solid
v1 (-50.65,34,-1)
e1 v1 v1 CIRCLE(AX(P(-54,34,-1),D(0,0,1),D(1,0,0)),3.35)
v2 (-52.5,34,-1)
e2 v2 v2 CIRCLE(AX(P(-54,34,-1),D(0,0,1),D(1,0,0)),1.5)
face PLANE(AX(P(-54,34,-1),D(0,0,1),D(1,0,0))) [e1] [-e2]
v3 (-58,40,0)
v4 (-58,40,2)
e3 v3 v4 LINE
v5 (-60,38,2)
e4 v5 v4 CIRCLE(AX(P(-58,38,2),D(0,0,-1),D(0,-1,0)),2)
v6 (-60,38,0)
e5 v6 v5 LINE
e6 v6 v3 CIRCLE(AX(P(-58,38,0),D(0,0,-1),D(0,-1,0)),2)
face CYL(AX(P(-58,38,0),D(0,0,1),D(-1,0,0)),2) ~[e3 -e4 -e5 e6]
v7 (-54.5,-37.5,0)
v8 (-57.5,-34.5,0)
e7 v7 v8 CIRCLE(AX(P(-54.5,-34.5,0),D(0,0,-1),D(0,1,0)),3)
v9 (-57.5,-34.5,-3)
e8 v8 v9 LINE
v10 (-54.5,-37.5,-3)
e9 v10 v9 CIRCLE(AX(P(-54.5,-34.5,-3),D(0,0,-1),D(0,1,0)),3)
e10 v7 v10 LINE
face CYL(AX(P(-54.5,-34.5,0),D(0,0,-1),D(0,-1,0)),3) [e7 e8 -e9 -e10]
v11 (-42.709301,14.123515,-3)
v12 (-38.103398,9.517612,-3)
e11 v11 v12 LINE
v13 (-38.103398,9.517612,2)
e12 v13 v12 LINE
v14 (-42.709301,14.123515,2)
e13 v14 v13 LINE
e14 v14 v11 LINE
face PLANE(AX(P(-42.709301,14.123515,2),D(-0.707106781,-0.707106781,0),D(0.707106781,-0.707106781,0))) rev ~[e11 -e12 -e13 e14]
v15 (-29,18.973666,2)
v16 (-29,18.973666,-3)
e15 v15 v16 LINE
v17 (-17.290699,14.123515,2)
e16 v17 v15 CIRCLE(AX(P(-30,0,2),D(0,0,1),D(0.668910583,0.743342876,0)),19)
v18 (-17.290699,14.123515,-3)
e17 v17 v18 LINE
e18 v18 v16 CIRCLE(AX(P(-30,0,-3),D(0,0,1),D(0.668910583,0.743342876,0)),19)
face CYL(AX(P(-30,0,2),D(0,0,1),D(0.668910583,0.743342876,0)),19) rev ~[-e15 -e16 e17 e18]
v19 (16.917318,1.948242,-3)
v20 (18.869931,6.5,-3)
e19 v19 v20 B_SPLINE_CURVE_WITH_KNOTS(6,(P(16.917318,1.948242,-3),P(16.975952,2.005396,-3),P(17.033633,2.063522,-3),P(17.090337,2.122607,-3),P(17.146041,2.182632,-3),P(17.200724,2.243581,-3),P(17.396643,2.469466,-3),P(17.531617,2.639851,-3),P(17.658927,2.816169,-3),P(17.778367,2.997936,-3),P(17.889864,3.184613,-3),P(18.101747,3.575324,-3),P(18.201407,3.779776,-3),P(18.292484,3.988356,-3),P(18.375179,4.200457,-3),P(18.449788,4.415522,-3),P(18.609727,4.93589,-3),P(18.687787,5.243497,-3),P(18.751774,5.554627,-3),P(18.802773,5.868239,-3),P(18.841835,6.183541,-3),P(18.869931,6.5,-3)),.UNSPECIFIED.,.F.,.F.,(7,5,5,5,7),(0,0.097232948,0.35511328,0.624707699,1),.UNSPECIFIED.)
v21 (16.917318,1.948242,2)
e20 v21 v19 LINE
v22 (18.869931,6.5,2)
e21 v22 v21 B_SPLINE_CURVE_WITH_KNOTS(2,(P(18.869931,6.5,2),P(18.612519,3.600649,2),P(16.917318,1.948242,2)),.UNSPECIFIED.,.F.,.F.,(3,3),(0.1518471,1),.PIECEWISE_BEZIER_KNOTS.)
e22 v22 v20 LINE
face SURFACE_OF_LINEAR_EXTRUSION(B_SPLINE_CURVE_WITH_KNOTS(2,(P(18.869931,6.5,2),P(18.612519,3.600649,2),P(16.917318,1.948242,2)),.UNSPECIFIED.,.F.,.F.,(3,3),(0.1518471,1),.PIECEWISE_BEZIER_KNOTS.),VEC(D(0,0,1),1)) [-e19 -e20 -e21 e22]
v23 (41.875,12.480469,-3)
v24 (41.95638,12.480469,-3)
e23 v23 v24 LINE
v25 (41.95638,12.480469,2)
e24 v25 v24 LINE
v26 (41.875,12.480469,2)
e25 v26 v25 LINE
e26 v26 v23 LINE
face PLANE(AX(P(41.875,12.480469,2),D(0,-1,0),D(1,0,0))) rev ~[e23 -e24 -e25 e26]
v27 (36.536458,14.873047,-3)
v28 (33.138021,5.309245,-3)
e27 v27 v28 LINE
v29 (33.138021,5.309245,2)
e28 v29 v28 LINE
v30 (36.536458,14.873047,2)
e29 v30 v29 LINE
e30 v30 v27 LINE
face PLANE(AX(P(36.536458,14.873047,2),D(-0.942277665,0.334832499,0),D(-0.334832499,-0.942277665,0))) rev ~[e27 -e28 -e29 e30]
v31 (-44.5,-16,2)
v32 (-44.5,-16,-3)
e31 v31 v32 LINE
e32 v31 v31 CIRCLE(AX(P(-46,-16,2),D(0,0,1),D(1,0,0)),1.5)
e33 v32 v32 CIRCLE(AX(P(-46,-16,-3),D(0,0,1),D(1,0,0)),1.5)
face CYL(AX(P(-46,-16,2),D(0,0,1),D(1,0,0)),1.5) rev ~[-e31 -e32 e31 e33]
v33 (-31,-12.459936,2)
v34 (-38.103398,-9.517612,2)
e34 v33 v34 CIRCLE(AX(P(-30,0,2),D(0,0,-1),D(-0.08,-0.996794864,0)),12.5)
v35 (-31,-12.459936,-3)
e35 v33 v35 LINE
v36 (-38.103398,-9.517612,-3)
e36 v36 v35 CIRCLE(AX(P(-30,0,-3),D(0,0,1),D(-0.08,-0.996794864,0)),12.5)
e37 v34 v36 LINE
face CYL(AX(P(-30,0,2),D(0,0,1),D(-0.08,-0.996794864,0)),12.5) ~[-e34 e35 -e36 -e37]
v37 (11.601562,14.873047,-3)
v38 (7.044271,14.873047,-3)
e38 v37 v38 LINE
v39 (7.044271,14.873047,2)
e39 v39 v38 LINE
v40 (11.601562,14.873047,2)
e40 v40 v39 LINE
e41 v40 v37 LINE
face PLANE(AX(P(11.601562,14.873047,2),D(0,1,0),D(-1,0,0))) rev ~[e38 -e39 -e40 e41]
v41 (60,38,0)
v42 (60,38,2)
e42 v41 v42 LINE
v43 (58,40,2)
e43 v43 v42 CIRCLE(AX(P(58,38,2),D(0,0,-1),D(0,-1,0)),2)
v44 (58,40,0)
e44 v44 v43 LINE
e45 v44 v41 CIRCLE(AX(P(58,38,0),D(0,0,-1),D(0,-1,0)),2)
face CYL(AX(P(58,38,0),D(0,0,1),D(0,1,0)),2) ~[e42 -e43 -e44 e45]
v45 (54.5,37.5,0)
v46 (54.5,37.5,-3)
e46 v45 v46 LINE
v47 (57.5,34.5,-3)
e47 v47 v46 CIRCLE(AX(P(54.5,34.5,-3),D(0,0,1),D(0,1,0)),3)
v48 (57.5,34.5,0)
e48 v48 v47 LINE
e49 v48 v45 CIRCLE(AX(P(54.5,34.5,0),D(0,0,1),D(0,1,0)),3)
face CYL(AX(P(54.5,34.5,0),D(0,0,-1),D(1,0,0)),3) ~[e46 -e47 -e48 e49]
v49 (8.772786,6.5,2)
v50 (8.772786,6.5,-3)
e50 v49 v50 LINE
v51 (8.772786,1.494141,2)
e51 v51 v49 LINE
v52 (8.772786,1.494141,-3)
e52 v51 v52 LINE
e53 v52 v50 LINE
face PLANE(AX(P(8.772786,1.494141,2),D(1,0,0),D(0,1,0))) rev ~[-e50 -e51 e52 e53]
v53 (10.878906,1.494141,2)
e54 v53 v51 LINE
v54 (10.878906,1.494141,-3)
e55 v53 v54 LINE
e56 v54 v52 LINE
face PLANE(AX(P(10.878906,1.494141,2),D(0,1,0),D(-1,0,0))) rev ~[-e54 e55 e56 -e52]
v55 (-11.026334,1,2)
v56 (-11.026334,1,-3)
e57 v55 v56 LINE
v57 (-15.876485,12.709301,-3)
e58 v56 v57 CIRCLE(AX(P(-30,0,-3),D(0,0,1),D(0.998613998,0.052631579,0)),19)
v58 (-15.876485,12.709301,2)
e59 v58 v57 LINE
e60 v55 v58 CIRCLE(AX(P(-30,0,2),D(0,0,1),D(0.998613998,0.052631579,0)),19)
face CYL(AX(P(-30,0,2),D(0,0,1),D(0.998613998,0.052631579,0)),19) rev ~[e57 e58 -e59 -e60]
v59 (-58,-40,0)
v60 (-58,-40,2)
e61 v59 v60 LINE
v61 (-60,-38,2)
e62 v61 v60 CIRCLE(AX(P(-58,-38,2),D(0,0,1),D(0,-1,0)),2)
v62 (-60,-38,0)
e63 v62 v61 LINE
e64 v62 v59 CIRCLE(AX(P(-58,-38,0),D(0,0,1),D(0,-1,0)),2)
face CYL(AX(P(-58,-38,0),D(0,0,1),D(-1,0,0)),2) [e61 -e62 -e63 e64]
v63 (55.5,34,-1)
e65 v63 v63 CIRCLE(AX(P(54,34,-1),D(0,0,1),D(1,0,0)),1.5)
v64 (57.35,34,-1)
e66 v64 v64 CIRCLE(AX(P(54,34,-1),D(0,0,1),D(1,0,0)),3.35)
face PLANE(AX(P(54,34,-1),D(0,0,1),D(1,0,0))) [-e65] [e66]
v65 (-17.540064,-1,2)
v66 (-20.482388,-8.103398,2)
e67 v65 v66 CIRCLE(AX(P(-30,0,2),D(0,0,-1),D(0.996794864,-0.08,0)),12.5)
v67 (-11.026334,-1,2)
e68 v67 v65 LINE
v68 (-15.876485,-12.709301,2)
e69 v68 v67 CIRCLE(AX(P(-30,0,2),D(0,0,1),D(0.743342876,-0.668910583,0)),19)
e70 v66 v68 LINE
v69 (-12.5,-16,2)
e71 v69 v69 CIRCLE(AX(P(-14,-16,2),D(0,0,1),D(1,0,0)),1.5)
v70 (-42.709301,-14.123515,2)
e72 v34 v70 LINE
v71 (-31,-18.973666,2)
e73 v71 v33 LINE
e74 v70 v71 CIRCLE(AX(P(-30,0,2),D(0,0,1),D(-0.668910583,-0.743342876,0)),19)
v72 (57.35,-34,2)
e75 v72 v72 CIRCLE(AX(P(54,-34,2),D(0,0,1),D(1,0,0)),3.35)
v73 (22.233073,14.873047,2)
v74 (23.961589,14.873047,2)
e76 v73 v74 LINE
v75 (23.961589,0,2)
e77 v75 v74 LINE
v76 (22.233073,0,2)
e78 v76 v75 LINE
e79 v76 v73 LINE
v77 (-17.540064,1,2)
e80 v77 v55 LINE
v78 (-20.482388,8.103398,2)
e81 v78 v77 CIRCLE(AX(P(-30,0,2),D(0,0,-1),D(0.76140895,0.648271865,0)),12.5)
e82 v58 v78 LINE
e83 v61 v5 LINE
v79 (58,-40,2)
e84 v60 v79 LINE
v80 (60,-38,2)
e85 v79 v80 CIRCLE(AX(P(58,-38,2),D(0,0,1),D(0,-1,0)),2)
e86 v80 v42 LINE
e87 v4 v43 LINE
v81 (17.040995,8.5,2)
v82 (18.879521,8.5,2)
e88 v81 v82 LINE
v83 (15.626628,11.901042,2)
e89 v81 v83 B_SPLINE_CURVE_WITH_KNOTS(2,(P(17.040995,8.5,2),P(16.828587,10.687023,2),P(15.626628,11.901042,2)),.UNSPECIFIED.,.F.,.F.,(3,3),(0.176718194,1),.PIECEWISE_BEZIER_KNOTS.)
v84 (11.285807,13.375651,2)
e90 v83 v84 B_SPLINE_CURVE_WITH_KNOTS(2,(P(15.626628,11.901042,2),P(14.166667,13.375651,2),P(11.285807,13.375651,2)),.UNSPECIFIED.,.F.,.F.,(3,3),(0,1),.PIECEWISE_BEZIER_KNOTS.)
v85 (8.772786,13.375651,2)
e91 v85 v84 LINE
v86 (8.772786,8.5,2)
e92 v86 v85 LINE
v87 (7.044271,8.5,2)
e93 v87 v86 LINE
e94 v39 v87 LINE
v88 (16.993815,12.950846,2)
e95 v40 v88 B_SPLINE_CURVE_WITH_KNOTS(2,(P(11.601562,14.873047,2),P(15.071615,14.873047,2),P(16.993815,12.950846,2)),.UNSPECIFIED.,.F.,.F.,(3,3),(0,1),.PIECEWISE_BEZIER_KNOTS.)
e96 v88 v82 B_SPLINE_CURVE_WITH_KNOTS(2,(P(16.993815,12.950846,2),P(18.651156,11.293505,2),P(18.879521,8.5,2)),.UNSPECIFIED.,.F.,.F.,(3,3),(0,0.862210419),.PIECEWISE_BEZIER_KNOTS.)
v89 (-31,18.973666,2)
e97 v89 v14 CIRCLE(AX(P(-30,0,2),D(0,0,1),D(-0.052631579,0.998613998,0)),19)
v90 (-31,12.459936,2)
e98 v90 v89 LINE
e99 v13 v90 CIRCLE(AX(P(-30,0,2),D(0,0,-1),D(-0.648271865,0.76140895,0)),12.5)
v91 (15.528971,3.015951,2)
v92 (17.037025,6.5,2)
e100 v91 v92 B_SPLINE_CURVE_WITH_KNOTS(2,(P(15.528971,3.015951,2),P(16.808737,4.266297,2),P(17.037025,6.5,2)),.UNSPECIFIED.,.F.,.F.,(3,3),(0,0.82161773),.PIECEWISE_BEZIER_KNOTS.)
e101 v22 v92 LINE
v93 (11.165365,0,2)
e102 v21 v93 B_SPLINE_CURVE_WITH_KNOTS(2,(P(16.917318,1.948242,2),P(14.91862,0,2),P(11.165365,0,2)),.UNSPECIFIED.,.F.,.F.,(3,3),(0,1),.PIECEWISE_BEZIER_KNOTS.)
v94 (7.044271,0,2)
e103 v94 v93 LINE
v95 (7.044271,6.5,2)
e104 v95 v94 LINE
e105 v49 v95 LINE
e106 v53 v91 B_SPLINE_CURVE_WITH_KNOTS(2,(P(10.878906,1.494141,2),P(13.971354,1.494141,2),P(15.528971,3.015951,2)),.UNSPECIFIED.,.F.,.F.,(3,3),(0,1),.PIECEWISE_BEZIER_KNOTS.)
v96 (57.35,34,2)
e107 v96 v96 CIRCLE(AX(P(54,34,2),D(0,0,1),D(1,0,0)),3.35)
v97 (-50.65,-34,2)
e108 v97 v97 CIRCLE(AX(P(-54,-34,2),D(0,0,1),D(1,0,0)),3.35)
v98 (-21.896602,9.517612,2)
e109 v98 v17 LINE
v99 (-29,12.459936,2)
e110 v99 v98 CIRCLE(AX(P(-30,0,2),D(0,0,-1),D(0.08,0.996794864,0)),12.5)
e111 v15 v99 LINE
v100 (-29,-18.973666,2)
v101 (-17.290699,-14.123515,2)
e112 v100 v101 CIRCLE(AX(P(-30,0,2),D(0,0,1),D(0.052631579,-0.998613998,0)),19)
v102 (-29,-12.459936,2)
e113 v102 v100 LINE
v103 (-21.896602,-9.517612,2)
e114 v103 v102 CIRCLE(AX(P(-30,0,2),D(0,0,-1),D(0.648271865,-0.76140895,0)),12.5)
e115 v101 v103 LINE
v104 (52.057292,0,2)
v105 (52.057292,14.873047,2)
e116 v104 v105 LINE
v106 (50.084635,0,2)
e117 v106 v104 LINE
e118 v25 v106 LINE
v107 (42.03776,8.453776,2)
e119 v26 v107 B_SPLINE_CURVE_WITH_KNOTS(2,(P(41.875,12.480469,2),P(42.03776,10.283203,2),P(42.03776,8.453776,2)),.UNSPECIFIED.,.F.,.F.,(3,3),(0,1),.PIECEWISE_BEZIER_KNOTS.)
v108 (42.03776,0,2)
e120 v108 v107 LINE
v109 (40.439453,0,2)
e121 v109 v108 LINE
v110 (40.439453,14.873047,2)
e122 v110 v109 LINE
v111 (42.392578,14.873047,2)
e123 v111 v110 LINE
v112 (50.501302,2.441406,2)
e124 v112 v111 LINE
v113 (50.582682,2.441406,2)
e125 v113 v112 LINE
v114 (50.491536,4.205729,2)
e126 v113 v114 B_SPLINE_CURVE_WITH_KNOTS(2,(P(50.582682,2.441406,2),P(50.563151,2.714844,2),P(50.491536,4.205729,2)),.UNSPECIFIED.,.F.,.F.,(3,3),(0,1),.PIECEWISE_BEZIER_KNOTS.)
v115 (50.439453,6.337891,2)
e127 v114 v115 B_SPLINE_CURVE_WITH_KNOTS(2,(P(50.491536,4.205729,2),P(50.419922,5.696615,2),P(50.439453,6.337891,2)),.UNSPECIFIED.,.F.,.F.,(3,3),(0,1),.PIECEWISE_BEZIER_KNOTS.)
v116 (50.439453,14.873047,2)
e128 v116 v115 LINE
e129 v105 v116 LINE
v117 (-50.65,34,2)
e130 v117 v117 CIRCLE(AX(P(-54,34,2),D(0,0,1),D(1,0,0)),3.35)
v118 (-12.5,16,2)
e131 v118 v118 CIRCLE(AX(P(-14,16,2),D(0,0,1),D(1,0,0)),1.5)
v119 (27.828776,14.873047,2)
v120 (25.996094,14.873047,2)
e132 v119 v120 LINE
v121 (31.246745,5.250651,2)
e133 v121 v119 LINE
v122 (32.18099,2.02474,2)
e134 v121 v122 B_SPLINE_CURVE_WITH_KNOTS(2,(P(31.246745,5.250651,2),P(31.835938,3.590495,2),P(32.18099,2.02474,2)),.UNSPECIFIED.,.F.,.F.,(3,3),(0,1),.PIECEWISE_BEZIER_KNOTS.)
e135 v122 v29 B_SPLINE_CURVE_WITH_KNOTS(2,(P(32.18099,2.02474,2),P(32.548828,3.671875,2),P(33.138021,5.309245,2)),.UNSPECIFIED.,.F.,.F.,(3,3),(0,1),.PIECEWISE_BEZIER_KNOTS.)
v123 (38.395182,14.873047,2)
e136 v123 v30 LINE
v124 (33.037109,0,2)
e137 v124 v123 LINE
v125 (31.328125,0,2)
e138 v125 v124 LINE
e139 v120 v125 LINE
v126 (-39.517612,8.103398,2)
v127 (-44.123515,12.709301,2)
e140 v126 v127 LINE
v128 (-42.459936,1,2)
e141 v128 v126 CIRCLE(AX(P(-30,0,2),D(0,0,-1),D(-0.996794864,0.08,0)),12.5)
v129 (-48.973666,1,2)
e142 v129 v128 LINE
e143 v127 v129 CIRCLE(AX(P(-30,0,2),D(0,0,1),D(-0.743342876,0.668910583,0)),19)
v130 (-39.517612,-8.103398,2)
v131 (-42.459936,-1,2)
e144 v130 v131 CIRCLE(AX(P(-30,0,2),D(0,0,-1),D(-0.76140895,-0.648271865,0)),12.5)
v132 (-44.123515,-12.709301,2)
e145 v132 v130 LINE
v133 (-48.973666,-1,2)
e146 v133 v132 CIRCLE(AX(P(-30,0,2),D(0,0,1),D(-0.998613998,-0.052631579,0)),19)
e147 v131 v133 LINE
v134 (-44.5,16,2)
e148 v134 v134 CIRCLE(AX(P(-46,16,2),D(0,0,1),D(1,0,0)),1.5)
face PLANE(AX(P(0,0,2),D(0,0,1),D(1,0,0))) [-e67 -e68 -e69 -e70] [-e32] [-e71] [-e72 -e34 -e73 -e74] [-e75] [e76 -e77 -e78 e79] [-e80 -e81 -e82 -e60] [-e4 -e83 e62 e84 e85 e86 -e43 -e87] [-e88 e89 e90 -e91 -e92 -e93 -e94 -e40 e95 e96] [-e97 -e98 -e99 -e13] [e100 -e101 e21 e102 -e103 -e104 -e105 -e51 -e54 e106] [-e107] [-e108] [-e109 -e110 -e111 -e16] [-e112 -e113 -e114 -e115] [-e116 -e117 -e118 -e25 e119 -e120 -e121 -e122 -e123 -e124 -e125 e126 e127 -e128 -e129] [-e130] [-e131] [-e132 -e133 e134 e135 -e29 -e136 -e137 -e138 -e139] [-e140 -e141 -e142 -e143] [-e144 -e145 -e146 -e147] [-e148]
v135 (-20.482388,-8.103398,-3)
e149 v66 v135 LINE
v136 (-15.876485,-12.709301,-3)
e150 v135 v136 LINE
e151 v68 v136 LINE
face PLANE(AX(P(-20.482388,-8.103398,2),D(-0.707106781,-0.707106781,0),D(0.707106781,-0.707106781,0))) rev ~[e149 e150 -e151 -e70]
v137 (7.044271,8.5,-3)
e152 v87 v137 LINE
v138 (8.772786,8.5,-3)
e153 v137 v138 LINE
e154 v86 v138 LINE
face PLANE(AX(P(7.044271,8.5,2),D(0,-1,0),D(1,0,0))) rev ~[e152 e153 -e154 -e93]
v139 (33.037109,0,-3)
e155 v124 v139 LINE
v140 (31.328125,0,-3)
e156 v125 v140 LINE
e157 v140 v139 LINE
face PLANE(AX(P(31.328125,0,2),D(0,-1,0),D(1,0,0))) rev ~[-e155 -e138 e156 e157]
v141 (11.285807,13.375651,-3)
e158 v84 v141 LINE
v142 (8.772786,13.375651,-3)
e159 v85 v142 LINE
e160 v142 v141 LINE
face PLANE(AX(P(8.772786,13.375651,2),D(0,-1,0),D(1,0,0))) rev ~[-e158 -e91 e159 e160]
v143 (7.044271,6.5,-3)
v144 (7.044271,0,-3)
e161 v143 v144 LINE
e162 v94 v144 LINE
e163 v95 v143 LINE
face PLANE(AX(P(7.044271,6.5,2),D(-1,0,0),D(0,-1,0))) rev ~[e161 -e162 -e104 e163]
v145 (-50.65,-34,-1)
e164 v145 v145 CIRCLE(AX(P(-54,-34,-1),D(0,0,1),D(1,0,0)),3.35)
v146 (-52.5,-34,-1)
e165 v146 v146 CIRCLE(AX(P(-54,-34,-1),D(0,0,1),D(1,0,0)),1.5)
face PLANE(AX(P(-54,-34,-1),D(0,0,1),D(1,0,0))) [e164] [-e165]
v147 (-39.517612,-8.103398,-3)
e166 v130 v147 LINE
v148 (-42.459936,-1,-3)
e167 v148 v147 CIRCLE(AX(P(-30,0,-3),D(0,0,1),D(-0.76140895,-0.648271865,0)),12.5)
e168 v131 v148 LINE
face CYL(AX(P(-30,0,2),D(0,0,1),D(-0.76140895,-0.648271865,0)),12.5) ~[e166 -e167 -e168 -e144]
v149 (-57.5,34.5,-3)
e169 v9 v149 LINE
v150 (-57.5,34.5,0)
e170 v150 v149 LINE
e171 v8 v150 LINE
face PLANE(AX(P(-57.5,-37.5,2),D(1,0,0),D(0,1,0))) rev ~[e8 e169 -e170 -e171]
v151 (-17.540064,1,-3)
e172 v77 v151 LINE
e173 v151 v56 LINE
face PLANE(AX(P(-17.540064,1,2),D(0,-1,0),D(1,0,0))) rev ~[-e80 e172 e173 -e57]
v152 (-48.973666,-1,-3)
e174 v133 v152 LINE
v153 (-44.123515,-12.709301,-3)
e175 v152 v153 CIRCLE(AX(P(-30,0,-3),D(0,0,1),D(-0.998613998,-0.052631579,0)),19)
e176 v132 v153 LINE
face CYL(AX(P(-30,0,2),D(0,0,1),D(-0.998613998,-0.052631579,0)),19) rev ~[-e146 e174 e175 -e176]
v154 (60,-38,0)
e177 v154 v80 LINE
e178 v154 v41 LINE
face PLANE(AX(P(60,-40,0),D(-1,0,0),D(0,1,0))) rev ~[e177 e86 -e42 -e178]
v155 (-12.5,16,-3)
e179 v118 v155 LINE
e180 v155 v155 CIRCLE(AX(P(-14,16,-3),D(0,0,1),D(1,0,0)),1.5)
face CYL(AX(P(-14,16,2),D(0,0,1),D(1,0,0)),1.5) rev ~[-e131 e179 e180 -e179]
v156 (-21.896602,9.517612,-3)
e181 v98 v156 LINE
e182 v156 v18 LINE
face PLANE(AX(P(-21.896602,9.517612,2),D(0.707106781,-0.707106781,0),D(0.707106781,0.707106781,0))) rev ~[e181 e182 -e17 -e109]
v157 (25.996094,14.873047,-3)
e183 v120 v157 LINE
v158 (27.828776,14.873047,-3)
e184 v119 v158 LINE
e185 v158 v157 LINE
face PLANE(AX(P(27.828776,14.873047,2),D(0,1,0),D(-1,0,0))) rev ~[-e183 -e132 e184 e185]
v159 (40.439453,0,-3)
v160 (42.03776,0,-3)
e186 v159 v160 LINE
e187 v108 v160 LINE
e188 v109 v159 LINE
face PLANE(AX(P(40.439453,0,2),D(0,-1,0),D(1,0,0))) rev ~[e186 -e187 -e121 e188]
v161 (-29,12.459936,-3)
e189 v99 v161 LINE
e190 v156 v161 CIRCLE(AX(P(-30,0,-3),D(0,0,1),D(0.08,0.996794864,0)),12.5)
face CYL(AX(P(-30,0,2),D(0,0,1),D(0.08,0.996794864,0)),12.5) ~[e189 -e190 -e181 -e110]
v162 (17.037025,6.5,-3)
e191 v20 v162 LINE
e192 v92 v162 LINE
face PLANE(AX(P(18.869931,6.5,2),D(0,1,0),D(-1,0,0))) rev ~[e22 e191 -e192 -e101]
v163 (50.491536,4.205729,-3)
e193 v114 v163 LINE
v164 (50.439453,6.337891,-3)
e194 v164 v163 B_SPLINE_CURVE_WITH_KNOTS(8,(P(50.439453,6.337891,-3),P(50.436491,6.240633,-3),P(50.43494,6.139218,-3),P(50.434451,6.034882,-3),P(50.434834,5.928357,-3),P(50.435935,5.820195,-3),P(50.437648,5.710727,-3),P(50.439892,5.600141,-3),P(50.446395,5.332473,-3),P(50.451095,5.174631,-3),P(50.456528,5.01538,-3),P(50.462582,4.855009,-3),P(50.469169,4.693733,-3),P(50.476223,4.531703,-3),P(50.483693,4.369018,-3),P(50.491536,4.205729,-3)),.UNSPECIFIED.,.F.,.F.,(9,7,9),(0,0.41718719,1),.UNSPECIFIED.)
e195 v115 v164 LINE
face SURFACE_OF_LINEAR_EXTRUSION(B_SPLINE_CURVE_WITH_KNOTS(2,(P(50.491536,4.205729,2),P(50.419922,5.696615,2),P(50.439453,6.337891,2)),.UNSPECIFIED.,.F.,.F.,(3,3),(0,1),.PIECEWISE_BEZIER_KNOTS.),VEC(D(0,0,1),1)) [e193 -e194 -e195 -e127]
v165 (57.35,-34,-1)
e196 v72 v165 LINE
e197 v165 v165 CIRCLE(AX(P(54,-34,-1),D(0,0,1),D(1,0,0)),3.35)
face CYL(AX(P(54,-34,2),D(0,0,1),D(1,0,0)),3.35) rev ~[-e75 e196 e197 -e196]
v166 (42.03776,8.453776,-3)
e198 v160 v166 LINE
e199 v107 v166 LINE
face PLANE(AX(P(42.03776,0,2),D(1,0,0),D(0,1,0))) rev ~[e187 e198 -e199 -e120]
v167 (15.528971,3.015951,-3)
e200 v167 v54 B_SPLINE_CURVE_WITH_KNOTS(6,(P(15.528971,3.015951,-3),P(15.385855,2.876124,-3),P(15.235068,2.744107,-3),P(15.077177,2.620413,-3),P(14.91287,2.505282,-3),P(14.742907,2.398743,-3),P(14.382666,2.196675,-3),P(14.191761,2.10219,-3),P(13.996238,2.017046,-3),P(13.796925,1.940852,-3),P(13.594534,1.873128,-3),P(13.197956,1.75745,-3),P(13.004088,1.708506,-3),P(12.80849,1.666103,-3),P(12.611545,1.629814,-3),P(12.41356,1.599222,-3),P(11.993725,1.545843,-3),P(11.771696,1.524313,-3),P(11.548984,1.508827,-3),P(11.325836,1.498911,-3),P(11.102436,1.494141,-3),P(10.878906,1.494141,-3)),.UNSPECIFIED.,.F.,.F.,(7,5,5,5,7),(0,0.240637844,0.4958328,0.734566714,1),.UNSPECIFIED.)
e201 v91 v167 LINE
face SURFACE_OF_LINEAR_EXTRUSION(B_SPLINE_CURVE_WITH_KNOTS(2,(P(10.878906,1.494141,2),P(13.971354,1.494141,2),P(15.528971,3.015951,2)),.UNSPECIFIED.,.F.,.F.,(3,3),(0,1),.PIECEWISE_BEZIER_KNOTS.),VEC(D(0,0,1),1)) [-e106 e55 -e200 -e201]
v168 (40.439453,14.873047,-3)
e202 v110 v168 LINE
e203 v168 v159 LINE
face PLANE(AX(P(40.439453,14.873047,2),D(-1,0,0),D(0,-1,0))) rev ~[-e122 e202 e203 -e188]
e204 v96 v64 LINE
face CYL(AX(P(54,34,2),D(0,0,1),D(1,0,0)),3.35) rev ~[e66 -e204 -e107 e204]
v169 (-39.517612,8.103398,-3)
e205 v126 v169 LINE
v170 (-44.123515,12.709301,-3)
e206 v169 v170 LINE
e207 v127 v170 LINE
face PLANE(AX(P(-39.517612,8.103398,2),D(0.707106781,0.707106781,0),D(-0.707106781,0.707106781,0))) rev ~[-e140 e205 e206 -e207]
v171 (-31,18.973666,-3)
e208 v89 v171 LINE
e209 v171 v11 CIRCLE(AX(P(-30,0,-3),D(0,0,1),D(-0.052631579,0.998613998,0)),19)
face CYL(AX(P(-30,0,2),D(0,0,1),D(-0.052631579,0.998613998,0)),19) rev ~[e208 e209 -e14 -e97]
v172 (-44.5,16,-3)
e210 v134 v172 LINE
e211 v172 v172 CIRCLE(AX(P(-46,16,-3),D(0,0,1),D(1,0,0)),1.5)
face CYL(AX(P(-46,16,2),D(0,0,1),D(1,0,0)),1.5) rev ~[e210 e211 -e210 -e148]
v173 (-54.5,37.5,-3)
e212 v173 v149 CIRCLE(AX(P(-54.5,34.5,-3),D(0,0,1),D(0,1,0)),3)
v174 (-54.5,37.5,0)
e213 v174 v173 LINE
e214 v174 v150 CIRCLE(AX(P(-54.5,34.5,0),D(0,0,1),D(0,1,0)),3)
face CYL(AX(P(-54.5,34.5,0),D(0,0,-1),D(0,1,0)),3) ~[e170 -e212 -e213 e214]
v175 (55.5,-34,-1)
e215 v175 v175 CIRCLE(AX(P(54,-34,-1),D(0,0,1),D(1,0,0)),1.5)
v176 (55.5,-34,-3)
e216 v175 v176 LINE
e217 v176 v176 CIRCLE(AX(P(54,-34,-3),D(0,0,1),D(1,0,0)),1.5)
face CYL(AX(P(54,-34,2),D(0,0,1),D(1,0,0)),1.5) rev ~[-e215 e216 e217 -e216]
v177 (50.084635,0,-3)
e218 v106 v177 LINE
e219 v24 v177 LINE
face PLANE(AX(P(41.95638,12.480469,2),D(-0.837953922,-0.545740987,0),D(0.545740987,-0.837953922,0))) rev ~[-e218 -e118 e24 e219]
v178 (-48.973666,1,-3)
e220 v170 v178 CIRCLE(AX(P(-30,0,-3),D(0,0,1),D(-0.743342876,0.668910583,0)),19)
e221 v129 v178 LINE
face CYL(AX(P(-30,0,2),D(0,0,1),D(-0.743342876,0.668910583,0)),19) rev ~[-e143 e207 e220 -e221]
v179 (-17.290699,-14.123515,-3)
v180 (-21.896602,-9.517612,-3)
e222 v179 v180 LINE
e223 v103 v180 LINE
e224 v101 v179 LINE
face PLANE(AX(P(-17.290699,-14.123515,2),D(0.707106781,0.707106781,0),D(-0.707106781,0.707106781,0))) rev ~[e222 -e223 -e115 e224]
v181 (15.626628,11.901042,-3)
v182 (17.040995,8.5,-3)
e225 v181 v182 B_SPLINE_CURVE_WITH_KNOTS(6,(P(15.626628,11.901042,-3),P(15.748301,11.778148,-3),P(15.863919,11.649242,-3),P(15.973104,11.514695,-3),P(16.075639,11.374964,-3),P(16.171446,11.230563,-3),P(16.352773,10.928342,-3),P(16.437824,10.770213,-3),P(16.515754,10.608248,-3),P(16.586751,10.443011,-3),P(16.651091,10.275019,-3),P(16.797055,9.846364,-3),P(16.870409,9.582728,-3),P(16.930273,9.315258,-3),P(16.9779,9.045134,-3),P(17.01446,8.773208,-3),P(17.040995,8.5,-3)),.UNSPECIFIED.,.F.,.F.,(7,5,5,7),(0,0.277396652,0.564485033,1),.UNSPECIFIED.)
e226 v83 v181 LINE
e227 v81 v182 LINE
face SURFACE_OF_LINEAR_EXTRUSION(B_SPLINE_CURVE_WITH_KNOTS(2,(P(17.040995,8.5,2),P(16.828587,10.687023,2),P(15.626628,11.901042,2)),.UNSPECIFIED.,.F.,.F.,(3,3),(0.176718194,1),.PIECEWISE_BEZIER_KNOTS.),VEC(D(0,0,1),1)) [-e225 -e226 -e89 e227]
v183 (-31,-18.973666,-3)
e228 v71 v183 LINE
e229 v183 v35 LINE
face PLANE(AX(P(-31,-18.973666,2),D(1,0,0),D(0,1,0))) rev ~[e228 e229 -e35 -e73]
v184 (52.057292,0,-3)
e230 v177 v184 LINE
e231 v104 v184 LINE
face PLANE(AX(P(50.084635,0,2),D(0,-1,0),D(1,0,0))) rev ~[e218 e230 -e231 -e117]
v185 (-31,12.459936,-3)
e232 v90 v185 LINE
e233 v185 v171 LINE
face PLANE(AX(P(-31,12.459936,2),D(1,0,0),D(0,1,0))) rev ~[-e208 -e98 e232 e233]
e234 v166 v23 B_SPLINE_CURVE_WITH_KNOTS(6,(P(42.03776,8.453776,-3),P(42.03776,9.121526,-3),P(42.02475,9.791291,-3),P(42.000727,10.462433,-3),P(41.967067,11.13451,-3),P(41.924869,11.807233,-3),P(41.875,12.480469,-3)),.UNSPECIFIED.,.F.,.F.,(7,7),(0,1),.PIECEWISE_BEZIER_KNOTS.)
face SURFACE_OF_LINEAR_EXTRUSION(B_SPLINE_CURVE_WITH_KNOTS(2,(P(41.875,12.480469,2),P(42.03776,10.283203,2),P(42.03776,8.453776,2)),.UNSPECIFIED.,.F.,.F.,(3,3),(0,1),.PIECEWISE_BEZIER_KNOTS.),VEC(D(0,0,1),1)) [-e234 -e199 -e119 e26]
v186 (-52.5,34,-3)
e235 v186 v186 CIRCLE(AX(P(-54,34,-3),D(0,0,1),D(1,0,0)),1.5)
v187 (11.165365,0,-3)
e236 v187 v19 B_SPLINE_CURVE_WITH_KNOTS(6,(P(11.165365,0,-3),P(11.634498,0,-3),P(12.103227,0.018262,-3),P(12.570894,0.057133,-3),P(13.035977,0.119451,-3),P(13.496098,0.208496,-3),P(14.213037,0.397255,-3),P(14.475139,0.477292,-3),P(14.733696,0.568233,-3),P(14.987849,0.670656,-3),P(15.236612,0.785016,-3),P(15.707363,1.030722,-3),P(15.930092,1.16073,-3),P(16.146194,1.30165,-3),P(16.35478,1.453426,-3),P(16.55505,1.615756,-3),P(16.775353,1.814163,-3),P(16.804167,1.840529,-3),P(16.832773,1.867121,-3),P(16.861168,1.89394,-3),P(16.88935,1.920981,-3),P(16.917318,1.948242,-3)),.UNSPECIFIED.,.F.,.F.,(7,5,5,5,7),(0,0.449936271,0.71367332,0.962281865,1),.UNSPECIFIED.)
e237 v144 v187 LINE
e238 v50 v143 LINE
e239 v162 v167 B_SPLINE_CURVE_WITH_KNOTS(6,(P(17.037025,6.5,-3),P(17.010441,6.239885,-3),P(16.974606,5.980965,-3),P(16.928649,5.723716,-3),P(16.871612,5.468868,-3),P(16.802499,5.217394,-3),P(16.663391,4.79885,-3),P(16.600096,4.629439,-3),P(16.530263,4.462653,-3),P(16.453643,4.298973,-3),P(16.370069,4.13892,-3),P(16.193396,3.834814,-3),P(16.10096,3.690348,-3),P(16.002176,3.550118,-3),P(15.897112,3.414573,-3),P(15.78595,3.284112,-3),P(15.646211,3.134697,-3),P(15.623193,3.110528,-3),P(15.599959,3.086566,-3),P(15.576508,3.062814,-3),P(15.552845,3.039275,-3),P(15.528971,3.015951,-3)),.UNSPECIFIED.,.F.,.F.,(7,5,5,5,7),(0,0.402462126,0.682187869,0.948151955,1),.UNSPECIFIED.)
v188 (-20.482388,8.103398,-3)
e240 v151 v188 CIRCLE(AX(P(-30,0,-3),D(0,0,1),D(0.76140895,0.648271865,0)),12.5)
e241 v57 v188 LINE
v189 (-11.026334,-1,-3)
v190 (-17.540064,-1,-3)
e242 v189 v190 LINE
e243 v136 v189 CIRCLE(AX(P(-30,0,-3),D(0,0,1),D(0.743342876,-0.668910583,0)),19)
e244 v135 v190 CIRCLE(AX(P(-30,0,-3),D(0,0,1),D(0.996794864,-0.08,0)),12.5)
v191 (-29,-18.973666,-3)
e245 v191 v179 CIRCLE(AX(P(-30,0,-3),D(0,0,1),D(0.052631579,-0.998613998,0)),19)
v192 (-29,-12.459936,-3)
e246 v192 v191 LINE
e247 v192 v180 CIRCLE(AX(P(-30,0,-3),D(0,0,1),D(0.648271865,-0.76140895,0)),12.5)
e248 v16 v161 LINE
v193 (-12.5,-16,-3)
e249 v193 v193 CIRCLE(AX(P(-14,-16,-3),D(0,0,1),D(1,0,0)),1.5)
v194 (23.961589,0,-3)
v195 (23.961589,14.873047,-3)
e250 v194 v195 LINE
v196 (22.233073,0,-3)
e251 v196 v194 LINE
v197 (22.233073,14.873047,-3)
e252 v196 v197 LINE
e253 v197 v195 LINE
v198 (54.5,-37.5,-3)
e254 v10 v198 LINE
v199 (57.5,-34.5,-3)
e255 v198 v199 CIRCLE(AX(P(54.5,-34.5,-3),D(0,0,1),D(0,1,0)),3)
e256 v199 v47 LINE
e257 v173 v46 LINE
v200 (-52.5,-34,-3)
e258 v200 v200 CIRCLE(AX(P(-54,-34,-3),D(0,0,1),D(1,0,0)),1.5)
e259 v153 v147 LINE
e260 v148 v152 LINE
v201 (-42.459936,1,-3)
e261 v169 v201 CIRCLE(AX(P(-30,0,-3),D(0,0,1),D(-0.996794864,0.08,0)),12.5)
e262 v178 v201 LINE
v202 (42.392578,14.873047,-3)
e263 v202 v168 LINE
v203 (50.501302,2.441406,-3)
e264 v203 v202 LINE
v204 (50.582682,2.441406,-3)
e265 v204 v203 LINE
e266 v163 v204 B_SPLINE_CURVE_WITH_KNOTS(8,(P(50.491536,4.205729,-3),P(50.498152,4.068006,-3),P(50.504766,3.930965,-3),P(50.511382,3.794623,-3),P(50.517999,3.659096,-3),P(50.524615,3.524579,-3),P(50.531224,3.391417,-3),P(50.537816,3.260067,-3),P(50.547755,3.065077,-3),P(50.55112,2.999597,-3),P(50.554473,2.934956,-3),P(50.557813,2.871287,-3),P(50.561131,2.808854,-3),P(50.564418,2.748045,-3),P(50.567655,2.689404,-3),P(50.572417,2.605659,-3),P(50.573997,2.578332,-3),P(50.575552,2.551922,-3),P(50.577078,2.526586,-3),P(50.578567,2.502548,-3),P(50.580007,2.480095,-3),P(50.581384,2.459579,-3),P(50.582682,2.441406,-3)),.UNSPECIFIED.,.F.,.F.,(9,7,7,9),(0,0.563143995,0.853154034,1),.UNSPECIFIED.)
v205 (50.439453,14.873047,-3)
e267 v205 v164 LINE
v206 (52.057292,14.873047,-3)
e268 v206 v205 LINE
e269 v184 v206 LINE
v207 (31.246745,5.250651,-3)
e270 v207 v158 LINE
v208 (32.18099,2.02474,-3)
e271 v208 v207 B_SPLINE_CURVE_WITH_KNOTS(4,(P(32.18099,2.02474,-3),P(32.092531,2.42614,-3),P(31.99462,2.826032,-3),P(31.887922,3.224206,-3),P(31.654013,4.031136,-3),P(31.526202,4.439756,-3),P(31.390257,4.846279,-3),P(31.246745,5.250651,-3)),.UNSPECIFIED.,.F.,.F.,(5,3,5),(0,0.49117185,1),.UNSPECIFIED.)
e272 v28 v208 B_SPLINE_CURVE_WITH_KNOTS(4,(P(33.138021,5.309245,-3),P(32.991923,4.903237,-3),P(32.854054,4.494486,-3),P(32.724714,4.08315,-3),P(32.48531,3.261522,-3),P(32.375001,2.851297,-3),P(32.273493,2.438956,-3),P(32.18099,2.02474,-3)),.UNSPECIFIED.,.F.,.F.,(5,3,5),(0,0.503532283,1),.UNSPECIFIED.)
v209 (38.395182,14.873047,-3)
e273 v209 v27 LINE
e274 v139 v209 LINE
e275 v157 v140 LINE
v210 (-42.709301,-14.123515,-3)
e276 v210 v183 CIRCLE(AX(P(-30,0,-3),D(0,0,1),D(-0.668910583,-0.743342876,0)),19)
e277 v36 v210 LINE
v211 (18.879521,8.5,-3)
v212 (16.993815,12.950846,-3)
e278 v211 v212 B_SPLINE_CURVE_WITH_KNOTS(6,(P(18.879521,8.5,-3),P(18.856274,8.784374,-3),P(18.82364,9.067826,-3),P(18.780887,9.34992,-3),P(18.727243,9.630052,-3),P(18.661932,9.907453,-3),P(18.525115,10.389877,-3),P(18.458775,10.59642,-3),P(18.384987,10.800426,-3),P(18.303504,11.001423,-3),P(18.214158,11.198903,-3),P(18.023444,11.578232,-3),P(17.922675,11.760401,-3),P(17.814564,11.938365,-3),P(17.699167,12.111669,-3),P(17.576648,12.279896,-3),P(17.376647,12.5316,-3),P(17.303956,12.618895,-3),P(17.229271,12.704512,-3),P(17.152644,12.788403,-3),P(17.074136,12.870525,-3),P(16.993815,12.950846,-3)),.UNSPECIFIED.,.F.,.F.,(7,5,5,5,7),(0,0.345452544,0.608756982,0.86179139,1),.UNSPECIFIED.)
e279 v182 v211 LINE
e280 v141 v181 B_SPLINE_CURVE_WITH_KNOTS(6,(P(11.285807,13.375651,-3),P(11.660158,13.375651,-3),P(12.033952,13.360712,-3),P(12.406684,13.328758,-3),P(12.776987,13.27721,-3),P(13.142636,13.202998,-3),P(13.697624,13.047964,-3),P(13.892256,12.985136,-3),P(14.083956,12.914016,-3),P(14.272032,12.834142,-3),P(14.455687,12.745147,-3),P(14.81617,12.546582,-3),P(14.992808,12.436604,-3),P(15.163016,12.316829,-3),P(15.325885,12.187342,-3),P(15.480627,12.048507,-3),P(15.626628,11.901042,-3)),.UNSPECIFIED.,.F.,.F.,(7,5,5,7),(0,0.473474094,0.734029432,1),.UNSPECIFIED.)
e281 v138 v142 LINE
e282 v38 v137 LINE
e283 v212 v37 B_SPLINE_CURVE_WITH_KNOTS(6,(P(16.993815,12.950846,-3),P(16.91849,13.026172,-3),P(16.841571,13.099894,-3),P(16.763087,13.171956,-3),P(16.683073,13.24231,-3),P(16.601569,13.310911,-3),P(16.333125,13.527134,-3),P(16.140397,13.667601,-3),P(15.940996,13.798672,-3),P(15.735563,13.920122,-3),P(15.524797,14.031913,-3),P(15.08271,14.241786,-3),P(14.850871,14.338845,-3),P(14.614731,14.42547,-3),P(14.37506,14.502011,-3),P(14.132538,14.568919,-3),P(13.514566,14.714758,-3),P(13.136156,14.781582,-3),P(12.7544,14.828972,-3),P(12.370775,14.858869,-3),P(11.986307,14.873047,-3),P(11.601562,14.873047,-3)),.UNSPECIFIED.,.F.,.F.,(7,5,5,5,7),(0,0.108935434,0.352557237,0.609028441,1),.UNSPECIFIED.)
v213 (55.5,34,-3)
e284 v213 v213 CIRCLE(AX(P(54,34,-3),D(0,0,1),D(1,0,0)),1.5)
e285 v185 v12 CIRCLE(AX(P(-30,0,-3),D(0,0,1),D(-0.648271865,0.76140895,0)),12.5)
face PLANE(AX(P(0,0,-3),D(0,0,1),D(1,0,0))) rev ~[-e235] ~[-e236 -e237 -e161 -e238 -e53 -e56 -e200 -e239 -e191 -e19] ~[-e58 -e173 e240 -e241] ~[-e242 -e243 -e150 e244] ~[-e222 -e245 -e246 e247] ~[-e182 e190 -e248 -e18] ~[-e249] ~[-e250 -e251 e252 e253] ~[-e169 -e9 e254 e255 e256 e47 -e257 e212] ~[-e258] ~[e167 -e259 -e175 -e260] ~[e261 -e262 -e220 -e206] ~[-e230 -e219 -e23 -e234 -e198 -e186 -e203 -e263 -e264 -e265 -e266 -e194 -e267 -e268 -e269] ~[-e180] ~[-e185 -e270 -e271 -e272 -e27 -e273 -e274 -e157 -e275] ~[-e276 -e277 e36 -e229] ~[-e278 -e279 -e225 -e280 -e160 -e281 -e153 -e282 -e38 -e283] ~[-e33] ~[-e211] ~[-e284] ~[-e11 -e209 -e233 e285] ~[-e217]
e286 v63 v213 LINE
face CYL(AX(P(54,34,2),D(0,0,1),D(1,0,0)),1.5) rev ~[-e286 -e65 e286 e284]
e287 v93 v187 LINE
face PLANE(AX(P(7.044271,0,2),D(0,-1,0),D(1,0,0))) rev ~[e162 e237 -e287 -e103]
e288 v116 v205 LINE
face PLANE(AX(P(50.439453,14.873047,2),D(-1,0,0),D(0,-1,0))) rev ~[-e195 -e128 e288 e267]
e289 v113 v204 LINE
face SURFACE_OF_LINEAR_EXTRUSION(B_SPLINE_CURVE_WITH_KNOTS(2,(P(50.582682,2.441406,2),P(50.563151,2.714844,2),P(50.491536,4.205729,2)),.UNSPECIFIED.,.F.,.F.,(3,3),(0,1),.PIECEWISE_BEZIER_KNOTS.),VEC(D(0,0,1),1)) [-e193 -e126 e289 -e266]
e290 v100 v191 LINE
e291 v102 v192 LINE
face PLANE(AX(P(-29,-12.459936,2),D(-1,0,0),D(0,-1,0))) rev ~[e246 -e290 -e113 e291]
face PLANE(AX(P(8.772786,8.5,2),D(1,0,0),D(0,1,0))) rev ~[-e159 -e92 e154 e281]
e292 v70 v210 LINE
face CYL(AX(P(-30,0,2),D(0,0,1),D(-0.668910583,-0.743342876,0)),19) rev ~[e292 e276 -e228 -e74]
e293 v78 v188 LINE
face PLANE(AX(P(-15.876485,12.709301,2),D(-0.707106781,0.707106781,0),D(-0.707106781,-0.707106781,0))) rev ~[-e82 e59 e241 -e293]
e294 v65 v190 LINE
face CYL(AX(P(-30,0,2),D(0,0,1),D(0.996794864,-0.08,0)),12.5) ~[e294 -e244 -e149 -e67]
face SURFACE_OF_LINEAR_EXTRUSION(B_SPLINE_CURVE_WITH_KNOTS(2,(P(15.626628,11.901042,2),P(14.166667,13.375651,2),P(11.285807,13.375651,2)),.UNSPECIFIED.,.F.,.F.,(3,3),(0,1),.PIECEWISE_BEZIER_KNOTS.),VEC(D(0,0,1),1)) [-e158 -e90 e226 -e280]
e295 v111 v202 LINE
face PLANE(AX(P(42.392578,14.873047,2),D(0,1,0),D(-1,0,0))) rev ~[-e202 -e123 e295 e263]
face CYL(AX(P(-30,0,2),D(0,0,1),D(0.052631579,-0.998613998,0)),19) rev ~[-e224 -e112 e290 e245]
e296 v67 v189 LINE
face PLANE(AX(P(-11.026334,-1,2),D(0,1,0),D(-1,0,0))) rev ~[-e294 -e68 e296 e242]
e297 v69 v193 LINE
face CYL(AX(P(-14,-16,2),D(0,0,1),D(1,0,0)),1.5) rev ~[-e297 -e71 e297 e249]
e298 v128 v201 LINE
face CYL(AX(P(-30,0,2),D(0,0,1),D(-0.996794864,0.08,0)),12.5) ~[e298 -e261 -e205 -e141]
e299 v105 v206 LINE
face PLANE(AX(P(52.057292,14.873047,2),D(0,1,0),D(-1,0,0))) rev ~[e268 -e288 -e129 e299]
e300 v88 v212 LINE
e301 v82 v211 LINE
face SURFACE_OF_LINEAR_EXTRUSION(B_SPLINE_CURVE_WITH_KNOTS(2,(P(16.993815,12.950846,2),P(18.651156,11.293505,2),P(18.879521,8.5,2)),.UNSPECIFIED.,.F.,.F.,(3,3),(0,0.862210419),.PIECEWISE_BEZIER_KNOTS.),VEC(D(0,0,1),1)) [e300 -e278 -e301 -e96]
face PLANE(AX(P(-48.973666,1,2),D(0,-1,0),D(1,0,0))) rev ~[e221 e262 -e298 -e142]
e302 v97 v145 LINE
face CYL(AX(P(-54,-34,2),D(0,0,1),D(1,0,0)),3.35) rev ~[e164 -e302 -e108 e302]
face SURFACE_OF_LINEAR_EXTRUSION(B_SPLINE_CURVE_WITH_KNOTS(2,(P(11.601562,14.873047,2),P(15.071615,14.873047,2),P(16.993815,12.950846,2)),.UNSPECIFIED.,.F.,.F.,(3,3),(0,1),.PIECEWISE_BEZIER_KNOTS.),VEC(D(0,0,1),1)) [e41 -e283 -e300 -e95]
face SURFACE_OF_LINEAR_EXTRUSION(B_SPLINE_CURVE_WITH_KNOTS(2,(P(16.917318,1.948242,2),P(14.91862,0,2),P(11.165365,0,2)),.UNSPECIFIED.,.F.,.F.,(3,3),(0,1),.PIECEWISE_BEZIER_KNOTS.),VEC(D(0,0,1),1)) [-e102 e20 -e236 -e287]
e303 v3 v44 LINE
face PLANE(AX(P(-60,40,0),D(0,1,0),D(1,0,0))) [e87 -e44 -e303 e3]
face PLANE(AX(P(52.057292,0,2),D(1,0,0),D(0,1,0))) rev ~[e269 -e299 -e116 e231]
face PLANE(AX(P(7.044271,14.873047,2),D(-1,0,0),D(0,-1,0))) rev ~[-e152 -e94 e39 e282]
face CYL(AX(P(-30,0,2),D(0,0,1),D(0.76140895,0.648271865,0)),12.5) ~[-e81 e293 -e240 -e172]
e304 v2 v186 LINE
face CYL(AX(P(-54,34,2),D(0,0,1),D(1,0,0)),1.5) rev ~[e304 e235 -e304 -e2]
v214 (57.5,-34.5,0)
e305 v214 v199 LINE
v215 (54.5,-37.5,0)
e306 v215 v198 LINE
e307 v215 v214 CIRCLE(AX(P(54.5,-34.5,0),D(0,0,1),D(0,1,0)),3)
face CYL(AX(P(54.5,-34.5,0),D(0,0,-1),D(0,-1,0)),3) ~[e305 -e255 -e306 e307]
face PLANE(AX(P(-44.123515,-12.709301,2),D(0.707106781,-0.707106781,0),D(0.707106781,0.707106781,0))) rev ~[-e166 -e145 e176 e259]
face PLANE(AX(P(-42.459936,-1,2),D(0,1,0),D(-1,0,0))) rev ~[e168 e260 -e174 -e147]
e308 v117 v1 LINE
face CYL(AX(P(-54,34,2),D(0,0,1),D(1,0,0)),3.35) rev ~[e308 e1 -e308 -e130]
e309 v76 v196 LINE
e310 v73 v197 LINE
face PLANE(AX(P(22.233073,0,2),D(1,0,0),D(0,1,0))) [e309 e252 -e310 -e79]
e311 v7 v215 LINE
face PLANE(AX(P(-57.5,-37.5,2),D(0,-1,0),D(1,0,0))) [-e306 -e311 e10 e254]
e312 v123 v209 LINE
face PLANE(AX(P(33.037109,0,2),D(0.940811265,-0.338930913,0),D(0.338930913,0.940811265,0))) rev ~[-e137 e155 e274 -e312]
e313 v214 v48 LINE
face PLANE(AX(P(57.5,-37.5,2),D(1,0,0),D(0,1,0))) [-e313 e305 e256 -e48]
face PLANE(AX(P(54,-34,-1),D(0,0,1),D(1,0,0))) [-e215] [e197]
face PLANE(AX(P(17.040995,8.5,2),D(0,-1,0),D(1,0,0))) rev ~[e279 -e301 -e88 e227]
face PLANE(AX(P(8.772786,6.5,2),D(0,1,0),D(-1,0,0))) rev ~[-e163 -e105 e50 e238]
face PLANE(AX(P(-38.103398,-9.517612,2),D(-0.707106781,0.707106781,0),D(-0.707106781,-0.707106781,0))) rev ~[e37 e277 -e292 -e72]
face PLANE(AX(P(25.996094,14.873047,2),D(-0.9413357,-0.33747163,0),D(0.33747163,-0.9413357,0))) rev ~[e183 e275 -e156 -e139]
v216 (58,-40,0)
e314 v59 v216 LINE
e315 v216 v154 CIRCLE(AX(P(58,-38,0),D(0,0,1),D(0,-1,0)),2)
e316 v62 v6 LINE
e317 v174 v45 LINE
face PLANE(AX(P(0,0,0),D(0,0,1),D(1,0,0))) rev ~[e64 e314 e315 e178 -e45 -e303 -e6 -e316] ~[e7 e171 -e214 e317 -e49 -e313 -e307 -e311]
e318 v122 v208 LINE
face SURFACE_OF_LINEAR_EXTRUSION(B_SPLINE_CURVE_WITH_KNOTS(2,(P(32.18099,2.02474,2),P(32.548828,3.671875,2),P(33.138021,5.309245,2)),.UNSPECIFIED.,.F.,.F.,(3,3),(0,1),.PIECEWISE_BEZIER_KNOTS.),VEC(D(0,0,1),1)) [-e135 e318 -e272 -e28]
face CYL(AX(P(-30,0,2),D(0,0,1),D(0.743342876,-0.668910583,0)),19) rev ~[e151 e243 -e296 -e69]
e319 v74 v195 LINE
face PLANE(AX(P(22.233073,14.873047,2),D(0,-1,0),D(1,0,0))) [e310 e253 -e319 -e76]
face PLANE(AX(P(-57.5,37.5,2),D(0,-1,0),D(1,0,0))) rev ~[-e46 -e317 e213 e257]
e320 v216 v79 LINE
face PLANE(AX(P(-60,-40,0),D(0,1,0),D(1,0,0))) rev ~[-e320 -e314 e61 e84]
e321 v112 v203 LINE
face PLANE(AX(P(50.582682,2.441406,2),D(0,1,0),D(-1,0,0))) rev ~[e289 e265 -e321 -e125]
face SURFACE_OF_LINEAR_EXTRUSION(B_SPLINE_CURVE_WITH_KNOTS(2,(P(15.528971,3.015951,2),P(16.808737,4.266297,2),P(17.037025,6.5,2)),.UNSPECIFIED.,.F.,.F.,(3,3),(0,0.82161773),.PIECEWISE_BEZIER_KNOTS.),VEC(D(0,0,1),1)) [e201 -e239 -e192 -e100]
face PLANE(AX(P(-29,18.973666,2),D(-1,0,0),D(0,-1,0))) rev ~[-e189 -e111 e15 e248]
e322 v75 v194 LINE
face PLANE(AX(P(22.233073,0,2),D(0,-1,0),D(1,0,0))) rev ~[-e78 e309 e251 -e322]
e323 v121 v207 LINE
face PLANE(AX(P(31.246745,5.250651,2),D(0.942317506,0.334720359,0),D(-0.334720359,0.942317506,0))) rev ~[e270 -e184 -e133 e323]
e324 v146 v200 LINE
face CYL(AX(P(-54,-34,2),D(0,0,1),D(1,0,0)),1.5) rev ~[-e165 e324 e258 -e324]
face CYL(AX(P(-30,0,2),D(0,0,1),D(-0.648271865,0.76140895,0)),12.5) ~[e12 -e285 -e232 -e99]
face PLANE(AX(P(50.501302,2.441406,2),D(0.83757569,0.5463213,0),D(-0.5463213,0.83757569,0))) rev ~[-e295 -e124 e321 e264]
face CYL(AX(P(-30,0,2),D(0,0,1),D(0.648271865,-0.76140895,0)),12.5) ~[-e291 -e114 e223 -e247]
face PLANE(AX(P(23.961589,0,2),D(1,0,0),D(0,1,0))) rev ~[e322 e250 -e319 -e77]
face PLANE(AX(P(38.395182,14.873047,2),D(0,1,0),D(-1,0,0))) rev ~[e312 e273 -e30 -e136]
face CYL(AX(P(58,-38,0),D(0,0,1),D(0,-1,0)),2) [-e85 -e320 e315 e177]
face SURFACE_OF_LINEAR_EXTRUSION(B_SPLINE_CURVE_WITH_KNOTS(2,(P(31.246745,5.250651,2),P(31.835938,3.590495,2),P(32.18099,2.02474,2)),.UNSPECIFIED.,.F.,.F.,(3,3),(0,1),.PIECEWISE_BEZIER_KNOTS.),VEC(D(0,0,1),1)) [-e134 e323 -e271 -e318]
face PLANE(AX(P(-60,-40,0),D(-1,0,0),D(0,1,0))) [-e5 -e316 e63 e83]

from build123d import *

# Parameters (mm, degrees)
F0_W      = 120
F0_H      = 80
F0_W_2    = 115
F0_H_2    = 75
F1_DEPTH  = 2
F2_W      = 115
F2_H      = 75
F3_DEPTH  = 5
F5_R      = 3
F6_R      = 2
F7_R      = 1.5
F8_DEPTH  = 25
F9_R      = 3.35
F9_R_2    = 1.5
F10_DEPTH = 3
F11_R     = 1.5
F11_W     = 1.728515625
F11_H     = 14.873046875
F12_DEPTH = 25


with BuildPart() as f1:
    # F0 (on Top) → F1 (new body)
    with BuildSketch(Plane.XY):
        Rectangle(F0_W, F0_H)
        Rectangle(F0_W_2, F0_H_2, mode=Mode.SUBTRACT)
    extrude(amount=F1_DEPTH)


with BuildPart() as f3:
    # F2 (on face) → F3 (new body)
    with BuildSketch(Plane.XY.offset(2)):
        Rectangle(F2_W, F2_H)
    extrude(amount=-F3_DEPTH)

    # F4: union F1
    add(f1.part)

    # F5
    f5_edges = [f3.edges().sort_by_distance(p)[0] for p in [
        (-57.5, 37.5, -1.5),
        (-57.5, -37.5, -1.5),
        (57.5, -37.5, -1.5),
        (57.5, 37.5, -1.5),
    ]]
    fillet(f5_edges, radius=F5_R)

    # F6
    f6_edges = [f3.edges().sort_by_distance(p)[0] for p in [
        (60, 40, 1),
        (60, -40, 1),
        (-60, -40, 1),
        (-60, 40, 1),
    ]]
    fillet(f6_edges, radius=F6_R)

    # F7 (on face) → F8 (cut)
    with BuildSketch(Plane.XY.offset(2)):
        with Locations((-54, 34)):
            Circle(F7_R)
        with Locations((54, 34)):
            Circle(F7_R)
        with Locations((-54, -34)):
            Circle(F7_R)
        with Locations((54, -34)):
            Circle(F7_R)
    extrude(amount=-F8_DEPTH, mode=Mode.SUBTRACT)

    # F9 (on face) → F10 (cut)
    with BuildSketch(Plane.XY.offset(2)):
        with Locations((-54, 34)):
            Circle(F9_R)
        with Locations((-54, 34)):
            Circle(F9_R_2, mode=Mode.SUBTRACT)
        with Locations((54, 34)):
            Circle(F9_R)
        with Locations((54, 34)):
            Circle(F9_R_2, mode=Mode.SUBTRACT)
        with Locations((54, -34)):
            Circle(F9_R)
        with Locations((54, -34)):
            Circle(F9_R_2, mode=Mode.SUBTRACT)
        with Locations((-54, -34)):
            Circle(F9_R)
        with Locations((-54, -34)):
            Circle(F9_R_2, mode=Mode.SUBTRACT)
    extrude(amount=-F10_DEPTH, mode=Mode.SUBTRACT)

    # F11 (on face) → F12 (cut)
    with BuildSketch(Plane.XY.offset(2)):
        with BuildLine():
            Line((-17.5400642056, 1), (-11.026334039, 1))
            ThreePointArc((-11.026334039, 1), (-12.4462888823, 7.2709852149), (-15.8764853538, 12.7093010838))
            Line((-15.8764853538, 12.7093010838), (-20.4823881255, 8.1033983122))
            ThreePointArc((-20.4823881255, 8.1033983122), (-18.4515058436, 4.7835429046), (-17.5400642056, 1))
        make_face()
        with Locations((-14, 16)):
            Circle(F11_R)
        with BuildLine():
            Line((-21.8966016878, 9.5176118745), (-17.2906989162, 14.1235146462))
            ThreePointArc((-17.2906989162, 14.1235146462), (-22.7290147851, 17.5537111177), (-29, 18.973665961))
            Line((-29, 18.973665961), (-29, 12.4599357944))
            ThreePointArc((-29, 12.4599357944), (-25.2164570954, 11.5484941564), (-21.8966016878, 9.5176118745))
        make_face()
        with BuildLine():
            Line((-31, 12.4599357944), (-31, 18.973665961))
            ThreePointArc((-31, 18.973665961), (-37.2709852149, 17.5537111177), (-42.7093010838, 14.1235146462))
            Line((-42.7093010838, 14.1235146462), (-38.1033983122, 9.5176118745))
            ThreePointArc((-38.1033983122, 9.5176118745), (-34.7835429046, 11.5484941564), (-31, 12.4599357944))
        make_face()
        with BuildLine():
            Line((-39.5176118745, 8.1033983122), (-44.1235146462, 12.7093010838))
            ThreePointArc((-44.1235146462, 12.7093010838), (-47.5537111177, 7.2709852149), (-48.973665961, 1))
            Line((-48.973665961, 1), (-42.4599357944, 1))
            ThreePointArc((-42.4599357944, 1), (-41.5484941564, 4.7835429046), (-39.5176118745, 8.1033983122))
        make_face()
        with BuildLine():
            ThreePointArc((-48.973665961, -1), (-47.5537111177, -7.2709852149), (-44.1235146462, -12.7093010838))
            Line((-44.1235146462, -12.7093010838), (-39.5176118745, -8.1033983122))
            ThreePointArc((-39.5176118745, -8.1033983122), (-41.5484941564, -4.7835429046), (-42.4599357944, -1))
            Line((-42.4599357944, -1), (-48.973665961, -1))
        make_face()
        with BuildLine():
            ThreePointArc((-42.7093010838, -14.1235146462), (-37.2709852149, -17.5537111177), (-31, -18.973665961))
            Line((-31, -18.973665961), (-31, -12.4599357944))
            ThreePointArc((-31, -12.4599357944), (-34.7835429046, -11.5484941564), (-38.1033983122, -9.5176118745))
            Line((-38.1033983122, -9.5176118745), (-42.7093010838, -14.1235146462))
        make_face()
        with BuildLine():
            ThreePointArc((-29, -18.973665961), (-22.7290147851, -17.5537111177), (-17.2906989162, -14.1235146462))
            Line((-17.2906989162, -14.1235146462), (-21.8966016878, -9.5176118745))
            ThreePointArc((-21.8966016878, -9.5176118745), (-25.2164570954, -11.5484941564), (-29, -12.4599357944))
            Line((-29, -12.4599357944), (-29, -18.973665961))
        make_face()
        with BuildLine():
            ThreePointArc((-15.8764853538, -12.7093010838), (-12.4462888823, -7.2709852149), (-11.026334039, -1))
            Line((-11.026334039, -1), (-17.5400642056, -1))
            ThreePointArc((-17.5400642056, -1), (-18.4515058436, -4.7835429046), (-20.4823881255, -8.1033983122))
            Line((-20.4823881255, -8.1033983122), (-15.8764853538, -12.7093010838))
        make_face()
        with Locations((-14, -16)):
            Circle(F11_R)
        with Locations((-46, -16)):
            Circle(F11_R)
        with Locations((-46, 16)):
            Circle(F11_R)
        with Locations((23.0973307292, 7.4365234375)):
            Rectangle(F11_W, F11_H)
        with BuildLine():
            Line((38.3951822917, 14.873046875), (36.5364583333, 14.873046875))
            Line((36.5364583333, 14.873046875), (33.1380208333, 5.3092447917))
            add(Edge.make_bspline(
                [(32.1809895833, 2.0247395833), (32.548828125, 3.671875), (33.1380208333, 5.3092447917)],
                knots=[0, 0, 0, 1, 1, 1], degree=2))
            add(Edge.make_bspline(
                [(31.2467447917, 5.2506510417), (31.8359375, 3.5904947917), (32.1809895833, 2.0247395833)],
                knots=[0, 0, 0, 1, 1, 1], degree=2))
            Line((31.2467447917, 5.2506510417), (27.8287760417, 14.873046875))
            Line((27.8287760417, 14.873046875), (25.99609375, 14.873046875))
            Line((25.99609375, 14.873046875), (31.328125, 0))
            Line((31.328125, 0), (33.037109375, 0))
            Line((33.037109375, 0), (38.3951822917, 14.873046875))
        make_face()
        with BuildLine():
            Line((50.0846354167, 0), (52.0572916667, 0))
            Line((52.0572916667, 0), (52.0572916667, 14.873046875))
            Line((52.0572916667, 14.873046875), (50.439453125, 14.873046875))
            Line((50.439453125, 14.873046875), (50.439453125, 6.337890625))
            add(Edge.make_bspline(
                [(50.4915364583, 4.2057291667), (50.419921875, 5.6966145833), (50.439453125, 6.337890625)],
                knots=[0, 0, 0, 1, 1, 1], degree=2))
            add(Edge.make_bspline(
                [(50.5826822917, 2.44140625), (50.5631510417, 2.71484375), (50.4915364583, 4.2057291667)],
                knots=[0, 0, 0, 1, 1, 1], degree=2))
            Line((50.5826822917, 2.44140625), (50.5013020833, 2.44140625))
            Line((50.5013020833, 2.44140625), (42.392578125, 14.873046875))
            Line((42.392578125, 14.873046875), (40.439453125, 14.873046875))
            Line((40.439453125, 14.873046875), (40.439453125, 0))
            Line((40.439453125, 0), (42.0377604167, 0))
            Line((42.0377604167, 0), (42.0377604167, 8.4537760417))
            add(Edge.make_bspline(
                [(41.875, 12.48046875), (42.0377604167, 10.283203125), (42.0377604167, 8.4537760417)],
                knots=[0, 0, 0, 1, 1, 1], degree=2))
            Line((41.875, 12.48046875), (41.9563802083, 12.48046875))
            Line((41.9563802083, 12.48046875), (50.0846354167, 0))
        make_face()
        with BuildLine():
            Line((7.0442708333, 14.873046875), (7.0442708333, 8.5))
            Line((7.0442708333, 8.5), (8.7727864583, 8.5))
            Line((8.7727864583, 8.5), (8.7727864583, 13.3756510417))
            Line((8.7727864583, 13.3756510417), (11.2858072917, 13.3756510417))
            add(Edge.make_bspline(
                [(15.6266276042, 11.9010416667), (14.1666666667, 13.3756510417), (11.2858072917, 13.3756510417)],
                knots=[0, 0, 0, 1, 1, 1], degree=2))
            add(Edge.make_bspline(
                [(17.0409949545, 8.5), (16.8285868821, 10.6870225966), (15.6266276042, 11.9010416667)],
                knots=[0.1767181936, 0.1767181936, 0.1767181936, 1, 1, 1], degree=2))
            Line((17.0409949545, 8.5), (18.8795207861, 8.5))
            add(Edge.make_bspline(
                [(16.9938151042, 12.9508463542), (18.6511564201, 11.2935050382), (18.8795207861, 8.5)],
                knots=[0, 0, 0, 0.8622104187, 0.8622104187, 0.8622104187], degree=2))
            add(Edge.make_bspline(
                [(11.6015625, 14.873046875), (15.0716145833, 14.873046875), (16.9938151042, 12.9508463542)],
                knots=[0, 0, 0, 1, 1, 1], degree=2))
            Line((11.6015625, 14.873046875), (7.0442708333, 14.873046875))
        make_face()
        with BuildLine():
            Line((8.7727864583, 6.5), (7.0442708333, 6.5))
            Line((7.0442708333, 6.5), (7.0442708333, 0))
            Line((7.0442708333, 0), (11.1653645833, 0))
            add(Edge.make_bspline(
                [(16.9173177083, 1.9482421875), (14.9186197917, 0), (11.1653645833, 0)],
                knots=[0, 0, 0, 1, 1, 1], degree=2))
            add(Edge.make_bspline(
                [(18.8699305641, 6.5), (18.6125191418, 3.600649448), (16.9173177083, 1.9482421875)],
                knots=[0.1518471004, 0.1518471004, 0.1518471004, 1, 1, 1], degree=2))
            Line((18.8699305641, 6.5), (17.0370247976, 6.5))
            add(Edge.make_bspline(
                [(15.5289713542, 3.0159505208), (16.8087372513, 4.2662965123), (17.0370247976, 6.5)],
                knots=[0, 0, 0, 0.8216177296, 0.8216177296, 0.8216177296], degree=2))
            add(Edge.make_bspline(
                [(10.87890625, 1.494140625), (13.9713541667, 1.494140625), (15.5289713542, 3.0159505208)],
                knots=[0, 0, 0, 1, 1, 1], degree=2))
            Line((10.87890625, 1.494140625), (8.7727864583, 1.494140625))
            Line((8.7727864583, 1.494140625), (8.7727864583, 6.5))
        make_face()
    extrude(amount=-F12_DEPTH, mode=Mode.SUBTRACT)


solid = f3.part
